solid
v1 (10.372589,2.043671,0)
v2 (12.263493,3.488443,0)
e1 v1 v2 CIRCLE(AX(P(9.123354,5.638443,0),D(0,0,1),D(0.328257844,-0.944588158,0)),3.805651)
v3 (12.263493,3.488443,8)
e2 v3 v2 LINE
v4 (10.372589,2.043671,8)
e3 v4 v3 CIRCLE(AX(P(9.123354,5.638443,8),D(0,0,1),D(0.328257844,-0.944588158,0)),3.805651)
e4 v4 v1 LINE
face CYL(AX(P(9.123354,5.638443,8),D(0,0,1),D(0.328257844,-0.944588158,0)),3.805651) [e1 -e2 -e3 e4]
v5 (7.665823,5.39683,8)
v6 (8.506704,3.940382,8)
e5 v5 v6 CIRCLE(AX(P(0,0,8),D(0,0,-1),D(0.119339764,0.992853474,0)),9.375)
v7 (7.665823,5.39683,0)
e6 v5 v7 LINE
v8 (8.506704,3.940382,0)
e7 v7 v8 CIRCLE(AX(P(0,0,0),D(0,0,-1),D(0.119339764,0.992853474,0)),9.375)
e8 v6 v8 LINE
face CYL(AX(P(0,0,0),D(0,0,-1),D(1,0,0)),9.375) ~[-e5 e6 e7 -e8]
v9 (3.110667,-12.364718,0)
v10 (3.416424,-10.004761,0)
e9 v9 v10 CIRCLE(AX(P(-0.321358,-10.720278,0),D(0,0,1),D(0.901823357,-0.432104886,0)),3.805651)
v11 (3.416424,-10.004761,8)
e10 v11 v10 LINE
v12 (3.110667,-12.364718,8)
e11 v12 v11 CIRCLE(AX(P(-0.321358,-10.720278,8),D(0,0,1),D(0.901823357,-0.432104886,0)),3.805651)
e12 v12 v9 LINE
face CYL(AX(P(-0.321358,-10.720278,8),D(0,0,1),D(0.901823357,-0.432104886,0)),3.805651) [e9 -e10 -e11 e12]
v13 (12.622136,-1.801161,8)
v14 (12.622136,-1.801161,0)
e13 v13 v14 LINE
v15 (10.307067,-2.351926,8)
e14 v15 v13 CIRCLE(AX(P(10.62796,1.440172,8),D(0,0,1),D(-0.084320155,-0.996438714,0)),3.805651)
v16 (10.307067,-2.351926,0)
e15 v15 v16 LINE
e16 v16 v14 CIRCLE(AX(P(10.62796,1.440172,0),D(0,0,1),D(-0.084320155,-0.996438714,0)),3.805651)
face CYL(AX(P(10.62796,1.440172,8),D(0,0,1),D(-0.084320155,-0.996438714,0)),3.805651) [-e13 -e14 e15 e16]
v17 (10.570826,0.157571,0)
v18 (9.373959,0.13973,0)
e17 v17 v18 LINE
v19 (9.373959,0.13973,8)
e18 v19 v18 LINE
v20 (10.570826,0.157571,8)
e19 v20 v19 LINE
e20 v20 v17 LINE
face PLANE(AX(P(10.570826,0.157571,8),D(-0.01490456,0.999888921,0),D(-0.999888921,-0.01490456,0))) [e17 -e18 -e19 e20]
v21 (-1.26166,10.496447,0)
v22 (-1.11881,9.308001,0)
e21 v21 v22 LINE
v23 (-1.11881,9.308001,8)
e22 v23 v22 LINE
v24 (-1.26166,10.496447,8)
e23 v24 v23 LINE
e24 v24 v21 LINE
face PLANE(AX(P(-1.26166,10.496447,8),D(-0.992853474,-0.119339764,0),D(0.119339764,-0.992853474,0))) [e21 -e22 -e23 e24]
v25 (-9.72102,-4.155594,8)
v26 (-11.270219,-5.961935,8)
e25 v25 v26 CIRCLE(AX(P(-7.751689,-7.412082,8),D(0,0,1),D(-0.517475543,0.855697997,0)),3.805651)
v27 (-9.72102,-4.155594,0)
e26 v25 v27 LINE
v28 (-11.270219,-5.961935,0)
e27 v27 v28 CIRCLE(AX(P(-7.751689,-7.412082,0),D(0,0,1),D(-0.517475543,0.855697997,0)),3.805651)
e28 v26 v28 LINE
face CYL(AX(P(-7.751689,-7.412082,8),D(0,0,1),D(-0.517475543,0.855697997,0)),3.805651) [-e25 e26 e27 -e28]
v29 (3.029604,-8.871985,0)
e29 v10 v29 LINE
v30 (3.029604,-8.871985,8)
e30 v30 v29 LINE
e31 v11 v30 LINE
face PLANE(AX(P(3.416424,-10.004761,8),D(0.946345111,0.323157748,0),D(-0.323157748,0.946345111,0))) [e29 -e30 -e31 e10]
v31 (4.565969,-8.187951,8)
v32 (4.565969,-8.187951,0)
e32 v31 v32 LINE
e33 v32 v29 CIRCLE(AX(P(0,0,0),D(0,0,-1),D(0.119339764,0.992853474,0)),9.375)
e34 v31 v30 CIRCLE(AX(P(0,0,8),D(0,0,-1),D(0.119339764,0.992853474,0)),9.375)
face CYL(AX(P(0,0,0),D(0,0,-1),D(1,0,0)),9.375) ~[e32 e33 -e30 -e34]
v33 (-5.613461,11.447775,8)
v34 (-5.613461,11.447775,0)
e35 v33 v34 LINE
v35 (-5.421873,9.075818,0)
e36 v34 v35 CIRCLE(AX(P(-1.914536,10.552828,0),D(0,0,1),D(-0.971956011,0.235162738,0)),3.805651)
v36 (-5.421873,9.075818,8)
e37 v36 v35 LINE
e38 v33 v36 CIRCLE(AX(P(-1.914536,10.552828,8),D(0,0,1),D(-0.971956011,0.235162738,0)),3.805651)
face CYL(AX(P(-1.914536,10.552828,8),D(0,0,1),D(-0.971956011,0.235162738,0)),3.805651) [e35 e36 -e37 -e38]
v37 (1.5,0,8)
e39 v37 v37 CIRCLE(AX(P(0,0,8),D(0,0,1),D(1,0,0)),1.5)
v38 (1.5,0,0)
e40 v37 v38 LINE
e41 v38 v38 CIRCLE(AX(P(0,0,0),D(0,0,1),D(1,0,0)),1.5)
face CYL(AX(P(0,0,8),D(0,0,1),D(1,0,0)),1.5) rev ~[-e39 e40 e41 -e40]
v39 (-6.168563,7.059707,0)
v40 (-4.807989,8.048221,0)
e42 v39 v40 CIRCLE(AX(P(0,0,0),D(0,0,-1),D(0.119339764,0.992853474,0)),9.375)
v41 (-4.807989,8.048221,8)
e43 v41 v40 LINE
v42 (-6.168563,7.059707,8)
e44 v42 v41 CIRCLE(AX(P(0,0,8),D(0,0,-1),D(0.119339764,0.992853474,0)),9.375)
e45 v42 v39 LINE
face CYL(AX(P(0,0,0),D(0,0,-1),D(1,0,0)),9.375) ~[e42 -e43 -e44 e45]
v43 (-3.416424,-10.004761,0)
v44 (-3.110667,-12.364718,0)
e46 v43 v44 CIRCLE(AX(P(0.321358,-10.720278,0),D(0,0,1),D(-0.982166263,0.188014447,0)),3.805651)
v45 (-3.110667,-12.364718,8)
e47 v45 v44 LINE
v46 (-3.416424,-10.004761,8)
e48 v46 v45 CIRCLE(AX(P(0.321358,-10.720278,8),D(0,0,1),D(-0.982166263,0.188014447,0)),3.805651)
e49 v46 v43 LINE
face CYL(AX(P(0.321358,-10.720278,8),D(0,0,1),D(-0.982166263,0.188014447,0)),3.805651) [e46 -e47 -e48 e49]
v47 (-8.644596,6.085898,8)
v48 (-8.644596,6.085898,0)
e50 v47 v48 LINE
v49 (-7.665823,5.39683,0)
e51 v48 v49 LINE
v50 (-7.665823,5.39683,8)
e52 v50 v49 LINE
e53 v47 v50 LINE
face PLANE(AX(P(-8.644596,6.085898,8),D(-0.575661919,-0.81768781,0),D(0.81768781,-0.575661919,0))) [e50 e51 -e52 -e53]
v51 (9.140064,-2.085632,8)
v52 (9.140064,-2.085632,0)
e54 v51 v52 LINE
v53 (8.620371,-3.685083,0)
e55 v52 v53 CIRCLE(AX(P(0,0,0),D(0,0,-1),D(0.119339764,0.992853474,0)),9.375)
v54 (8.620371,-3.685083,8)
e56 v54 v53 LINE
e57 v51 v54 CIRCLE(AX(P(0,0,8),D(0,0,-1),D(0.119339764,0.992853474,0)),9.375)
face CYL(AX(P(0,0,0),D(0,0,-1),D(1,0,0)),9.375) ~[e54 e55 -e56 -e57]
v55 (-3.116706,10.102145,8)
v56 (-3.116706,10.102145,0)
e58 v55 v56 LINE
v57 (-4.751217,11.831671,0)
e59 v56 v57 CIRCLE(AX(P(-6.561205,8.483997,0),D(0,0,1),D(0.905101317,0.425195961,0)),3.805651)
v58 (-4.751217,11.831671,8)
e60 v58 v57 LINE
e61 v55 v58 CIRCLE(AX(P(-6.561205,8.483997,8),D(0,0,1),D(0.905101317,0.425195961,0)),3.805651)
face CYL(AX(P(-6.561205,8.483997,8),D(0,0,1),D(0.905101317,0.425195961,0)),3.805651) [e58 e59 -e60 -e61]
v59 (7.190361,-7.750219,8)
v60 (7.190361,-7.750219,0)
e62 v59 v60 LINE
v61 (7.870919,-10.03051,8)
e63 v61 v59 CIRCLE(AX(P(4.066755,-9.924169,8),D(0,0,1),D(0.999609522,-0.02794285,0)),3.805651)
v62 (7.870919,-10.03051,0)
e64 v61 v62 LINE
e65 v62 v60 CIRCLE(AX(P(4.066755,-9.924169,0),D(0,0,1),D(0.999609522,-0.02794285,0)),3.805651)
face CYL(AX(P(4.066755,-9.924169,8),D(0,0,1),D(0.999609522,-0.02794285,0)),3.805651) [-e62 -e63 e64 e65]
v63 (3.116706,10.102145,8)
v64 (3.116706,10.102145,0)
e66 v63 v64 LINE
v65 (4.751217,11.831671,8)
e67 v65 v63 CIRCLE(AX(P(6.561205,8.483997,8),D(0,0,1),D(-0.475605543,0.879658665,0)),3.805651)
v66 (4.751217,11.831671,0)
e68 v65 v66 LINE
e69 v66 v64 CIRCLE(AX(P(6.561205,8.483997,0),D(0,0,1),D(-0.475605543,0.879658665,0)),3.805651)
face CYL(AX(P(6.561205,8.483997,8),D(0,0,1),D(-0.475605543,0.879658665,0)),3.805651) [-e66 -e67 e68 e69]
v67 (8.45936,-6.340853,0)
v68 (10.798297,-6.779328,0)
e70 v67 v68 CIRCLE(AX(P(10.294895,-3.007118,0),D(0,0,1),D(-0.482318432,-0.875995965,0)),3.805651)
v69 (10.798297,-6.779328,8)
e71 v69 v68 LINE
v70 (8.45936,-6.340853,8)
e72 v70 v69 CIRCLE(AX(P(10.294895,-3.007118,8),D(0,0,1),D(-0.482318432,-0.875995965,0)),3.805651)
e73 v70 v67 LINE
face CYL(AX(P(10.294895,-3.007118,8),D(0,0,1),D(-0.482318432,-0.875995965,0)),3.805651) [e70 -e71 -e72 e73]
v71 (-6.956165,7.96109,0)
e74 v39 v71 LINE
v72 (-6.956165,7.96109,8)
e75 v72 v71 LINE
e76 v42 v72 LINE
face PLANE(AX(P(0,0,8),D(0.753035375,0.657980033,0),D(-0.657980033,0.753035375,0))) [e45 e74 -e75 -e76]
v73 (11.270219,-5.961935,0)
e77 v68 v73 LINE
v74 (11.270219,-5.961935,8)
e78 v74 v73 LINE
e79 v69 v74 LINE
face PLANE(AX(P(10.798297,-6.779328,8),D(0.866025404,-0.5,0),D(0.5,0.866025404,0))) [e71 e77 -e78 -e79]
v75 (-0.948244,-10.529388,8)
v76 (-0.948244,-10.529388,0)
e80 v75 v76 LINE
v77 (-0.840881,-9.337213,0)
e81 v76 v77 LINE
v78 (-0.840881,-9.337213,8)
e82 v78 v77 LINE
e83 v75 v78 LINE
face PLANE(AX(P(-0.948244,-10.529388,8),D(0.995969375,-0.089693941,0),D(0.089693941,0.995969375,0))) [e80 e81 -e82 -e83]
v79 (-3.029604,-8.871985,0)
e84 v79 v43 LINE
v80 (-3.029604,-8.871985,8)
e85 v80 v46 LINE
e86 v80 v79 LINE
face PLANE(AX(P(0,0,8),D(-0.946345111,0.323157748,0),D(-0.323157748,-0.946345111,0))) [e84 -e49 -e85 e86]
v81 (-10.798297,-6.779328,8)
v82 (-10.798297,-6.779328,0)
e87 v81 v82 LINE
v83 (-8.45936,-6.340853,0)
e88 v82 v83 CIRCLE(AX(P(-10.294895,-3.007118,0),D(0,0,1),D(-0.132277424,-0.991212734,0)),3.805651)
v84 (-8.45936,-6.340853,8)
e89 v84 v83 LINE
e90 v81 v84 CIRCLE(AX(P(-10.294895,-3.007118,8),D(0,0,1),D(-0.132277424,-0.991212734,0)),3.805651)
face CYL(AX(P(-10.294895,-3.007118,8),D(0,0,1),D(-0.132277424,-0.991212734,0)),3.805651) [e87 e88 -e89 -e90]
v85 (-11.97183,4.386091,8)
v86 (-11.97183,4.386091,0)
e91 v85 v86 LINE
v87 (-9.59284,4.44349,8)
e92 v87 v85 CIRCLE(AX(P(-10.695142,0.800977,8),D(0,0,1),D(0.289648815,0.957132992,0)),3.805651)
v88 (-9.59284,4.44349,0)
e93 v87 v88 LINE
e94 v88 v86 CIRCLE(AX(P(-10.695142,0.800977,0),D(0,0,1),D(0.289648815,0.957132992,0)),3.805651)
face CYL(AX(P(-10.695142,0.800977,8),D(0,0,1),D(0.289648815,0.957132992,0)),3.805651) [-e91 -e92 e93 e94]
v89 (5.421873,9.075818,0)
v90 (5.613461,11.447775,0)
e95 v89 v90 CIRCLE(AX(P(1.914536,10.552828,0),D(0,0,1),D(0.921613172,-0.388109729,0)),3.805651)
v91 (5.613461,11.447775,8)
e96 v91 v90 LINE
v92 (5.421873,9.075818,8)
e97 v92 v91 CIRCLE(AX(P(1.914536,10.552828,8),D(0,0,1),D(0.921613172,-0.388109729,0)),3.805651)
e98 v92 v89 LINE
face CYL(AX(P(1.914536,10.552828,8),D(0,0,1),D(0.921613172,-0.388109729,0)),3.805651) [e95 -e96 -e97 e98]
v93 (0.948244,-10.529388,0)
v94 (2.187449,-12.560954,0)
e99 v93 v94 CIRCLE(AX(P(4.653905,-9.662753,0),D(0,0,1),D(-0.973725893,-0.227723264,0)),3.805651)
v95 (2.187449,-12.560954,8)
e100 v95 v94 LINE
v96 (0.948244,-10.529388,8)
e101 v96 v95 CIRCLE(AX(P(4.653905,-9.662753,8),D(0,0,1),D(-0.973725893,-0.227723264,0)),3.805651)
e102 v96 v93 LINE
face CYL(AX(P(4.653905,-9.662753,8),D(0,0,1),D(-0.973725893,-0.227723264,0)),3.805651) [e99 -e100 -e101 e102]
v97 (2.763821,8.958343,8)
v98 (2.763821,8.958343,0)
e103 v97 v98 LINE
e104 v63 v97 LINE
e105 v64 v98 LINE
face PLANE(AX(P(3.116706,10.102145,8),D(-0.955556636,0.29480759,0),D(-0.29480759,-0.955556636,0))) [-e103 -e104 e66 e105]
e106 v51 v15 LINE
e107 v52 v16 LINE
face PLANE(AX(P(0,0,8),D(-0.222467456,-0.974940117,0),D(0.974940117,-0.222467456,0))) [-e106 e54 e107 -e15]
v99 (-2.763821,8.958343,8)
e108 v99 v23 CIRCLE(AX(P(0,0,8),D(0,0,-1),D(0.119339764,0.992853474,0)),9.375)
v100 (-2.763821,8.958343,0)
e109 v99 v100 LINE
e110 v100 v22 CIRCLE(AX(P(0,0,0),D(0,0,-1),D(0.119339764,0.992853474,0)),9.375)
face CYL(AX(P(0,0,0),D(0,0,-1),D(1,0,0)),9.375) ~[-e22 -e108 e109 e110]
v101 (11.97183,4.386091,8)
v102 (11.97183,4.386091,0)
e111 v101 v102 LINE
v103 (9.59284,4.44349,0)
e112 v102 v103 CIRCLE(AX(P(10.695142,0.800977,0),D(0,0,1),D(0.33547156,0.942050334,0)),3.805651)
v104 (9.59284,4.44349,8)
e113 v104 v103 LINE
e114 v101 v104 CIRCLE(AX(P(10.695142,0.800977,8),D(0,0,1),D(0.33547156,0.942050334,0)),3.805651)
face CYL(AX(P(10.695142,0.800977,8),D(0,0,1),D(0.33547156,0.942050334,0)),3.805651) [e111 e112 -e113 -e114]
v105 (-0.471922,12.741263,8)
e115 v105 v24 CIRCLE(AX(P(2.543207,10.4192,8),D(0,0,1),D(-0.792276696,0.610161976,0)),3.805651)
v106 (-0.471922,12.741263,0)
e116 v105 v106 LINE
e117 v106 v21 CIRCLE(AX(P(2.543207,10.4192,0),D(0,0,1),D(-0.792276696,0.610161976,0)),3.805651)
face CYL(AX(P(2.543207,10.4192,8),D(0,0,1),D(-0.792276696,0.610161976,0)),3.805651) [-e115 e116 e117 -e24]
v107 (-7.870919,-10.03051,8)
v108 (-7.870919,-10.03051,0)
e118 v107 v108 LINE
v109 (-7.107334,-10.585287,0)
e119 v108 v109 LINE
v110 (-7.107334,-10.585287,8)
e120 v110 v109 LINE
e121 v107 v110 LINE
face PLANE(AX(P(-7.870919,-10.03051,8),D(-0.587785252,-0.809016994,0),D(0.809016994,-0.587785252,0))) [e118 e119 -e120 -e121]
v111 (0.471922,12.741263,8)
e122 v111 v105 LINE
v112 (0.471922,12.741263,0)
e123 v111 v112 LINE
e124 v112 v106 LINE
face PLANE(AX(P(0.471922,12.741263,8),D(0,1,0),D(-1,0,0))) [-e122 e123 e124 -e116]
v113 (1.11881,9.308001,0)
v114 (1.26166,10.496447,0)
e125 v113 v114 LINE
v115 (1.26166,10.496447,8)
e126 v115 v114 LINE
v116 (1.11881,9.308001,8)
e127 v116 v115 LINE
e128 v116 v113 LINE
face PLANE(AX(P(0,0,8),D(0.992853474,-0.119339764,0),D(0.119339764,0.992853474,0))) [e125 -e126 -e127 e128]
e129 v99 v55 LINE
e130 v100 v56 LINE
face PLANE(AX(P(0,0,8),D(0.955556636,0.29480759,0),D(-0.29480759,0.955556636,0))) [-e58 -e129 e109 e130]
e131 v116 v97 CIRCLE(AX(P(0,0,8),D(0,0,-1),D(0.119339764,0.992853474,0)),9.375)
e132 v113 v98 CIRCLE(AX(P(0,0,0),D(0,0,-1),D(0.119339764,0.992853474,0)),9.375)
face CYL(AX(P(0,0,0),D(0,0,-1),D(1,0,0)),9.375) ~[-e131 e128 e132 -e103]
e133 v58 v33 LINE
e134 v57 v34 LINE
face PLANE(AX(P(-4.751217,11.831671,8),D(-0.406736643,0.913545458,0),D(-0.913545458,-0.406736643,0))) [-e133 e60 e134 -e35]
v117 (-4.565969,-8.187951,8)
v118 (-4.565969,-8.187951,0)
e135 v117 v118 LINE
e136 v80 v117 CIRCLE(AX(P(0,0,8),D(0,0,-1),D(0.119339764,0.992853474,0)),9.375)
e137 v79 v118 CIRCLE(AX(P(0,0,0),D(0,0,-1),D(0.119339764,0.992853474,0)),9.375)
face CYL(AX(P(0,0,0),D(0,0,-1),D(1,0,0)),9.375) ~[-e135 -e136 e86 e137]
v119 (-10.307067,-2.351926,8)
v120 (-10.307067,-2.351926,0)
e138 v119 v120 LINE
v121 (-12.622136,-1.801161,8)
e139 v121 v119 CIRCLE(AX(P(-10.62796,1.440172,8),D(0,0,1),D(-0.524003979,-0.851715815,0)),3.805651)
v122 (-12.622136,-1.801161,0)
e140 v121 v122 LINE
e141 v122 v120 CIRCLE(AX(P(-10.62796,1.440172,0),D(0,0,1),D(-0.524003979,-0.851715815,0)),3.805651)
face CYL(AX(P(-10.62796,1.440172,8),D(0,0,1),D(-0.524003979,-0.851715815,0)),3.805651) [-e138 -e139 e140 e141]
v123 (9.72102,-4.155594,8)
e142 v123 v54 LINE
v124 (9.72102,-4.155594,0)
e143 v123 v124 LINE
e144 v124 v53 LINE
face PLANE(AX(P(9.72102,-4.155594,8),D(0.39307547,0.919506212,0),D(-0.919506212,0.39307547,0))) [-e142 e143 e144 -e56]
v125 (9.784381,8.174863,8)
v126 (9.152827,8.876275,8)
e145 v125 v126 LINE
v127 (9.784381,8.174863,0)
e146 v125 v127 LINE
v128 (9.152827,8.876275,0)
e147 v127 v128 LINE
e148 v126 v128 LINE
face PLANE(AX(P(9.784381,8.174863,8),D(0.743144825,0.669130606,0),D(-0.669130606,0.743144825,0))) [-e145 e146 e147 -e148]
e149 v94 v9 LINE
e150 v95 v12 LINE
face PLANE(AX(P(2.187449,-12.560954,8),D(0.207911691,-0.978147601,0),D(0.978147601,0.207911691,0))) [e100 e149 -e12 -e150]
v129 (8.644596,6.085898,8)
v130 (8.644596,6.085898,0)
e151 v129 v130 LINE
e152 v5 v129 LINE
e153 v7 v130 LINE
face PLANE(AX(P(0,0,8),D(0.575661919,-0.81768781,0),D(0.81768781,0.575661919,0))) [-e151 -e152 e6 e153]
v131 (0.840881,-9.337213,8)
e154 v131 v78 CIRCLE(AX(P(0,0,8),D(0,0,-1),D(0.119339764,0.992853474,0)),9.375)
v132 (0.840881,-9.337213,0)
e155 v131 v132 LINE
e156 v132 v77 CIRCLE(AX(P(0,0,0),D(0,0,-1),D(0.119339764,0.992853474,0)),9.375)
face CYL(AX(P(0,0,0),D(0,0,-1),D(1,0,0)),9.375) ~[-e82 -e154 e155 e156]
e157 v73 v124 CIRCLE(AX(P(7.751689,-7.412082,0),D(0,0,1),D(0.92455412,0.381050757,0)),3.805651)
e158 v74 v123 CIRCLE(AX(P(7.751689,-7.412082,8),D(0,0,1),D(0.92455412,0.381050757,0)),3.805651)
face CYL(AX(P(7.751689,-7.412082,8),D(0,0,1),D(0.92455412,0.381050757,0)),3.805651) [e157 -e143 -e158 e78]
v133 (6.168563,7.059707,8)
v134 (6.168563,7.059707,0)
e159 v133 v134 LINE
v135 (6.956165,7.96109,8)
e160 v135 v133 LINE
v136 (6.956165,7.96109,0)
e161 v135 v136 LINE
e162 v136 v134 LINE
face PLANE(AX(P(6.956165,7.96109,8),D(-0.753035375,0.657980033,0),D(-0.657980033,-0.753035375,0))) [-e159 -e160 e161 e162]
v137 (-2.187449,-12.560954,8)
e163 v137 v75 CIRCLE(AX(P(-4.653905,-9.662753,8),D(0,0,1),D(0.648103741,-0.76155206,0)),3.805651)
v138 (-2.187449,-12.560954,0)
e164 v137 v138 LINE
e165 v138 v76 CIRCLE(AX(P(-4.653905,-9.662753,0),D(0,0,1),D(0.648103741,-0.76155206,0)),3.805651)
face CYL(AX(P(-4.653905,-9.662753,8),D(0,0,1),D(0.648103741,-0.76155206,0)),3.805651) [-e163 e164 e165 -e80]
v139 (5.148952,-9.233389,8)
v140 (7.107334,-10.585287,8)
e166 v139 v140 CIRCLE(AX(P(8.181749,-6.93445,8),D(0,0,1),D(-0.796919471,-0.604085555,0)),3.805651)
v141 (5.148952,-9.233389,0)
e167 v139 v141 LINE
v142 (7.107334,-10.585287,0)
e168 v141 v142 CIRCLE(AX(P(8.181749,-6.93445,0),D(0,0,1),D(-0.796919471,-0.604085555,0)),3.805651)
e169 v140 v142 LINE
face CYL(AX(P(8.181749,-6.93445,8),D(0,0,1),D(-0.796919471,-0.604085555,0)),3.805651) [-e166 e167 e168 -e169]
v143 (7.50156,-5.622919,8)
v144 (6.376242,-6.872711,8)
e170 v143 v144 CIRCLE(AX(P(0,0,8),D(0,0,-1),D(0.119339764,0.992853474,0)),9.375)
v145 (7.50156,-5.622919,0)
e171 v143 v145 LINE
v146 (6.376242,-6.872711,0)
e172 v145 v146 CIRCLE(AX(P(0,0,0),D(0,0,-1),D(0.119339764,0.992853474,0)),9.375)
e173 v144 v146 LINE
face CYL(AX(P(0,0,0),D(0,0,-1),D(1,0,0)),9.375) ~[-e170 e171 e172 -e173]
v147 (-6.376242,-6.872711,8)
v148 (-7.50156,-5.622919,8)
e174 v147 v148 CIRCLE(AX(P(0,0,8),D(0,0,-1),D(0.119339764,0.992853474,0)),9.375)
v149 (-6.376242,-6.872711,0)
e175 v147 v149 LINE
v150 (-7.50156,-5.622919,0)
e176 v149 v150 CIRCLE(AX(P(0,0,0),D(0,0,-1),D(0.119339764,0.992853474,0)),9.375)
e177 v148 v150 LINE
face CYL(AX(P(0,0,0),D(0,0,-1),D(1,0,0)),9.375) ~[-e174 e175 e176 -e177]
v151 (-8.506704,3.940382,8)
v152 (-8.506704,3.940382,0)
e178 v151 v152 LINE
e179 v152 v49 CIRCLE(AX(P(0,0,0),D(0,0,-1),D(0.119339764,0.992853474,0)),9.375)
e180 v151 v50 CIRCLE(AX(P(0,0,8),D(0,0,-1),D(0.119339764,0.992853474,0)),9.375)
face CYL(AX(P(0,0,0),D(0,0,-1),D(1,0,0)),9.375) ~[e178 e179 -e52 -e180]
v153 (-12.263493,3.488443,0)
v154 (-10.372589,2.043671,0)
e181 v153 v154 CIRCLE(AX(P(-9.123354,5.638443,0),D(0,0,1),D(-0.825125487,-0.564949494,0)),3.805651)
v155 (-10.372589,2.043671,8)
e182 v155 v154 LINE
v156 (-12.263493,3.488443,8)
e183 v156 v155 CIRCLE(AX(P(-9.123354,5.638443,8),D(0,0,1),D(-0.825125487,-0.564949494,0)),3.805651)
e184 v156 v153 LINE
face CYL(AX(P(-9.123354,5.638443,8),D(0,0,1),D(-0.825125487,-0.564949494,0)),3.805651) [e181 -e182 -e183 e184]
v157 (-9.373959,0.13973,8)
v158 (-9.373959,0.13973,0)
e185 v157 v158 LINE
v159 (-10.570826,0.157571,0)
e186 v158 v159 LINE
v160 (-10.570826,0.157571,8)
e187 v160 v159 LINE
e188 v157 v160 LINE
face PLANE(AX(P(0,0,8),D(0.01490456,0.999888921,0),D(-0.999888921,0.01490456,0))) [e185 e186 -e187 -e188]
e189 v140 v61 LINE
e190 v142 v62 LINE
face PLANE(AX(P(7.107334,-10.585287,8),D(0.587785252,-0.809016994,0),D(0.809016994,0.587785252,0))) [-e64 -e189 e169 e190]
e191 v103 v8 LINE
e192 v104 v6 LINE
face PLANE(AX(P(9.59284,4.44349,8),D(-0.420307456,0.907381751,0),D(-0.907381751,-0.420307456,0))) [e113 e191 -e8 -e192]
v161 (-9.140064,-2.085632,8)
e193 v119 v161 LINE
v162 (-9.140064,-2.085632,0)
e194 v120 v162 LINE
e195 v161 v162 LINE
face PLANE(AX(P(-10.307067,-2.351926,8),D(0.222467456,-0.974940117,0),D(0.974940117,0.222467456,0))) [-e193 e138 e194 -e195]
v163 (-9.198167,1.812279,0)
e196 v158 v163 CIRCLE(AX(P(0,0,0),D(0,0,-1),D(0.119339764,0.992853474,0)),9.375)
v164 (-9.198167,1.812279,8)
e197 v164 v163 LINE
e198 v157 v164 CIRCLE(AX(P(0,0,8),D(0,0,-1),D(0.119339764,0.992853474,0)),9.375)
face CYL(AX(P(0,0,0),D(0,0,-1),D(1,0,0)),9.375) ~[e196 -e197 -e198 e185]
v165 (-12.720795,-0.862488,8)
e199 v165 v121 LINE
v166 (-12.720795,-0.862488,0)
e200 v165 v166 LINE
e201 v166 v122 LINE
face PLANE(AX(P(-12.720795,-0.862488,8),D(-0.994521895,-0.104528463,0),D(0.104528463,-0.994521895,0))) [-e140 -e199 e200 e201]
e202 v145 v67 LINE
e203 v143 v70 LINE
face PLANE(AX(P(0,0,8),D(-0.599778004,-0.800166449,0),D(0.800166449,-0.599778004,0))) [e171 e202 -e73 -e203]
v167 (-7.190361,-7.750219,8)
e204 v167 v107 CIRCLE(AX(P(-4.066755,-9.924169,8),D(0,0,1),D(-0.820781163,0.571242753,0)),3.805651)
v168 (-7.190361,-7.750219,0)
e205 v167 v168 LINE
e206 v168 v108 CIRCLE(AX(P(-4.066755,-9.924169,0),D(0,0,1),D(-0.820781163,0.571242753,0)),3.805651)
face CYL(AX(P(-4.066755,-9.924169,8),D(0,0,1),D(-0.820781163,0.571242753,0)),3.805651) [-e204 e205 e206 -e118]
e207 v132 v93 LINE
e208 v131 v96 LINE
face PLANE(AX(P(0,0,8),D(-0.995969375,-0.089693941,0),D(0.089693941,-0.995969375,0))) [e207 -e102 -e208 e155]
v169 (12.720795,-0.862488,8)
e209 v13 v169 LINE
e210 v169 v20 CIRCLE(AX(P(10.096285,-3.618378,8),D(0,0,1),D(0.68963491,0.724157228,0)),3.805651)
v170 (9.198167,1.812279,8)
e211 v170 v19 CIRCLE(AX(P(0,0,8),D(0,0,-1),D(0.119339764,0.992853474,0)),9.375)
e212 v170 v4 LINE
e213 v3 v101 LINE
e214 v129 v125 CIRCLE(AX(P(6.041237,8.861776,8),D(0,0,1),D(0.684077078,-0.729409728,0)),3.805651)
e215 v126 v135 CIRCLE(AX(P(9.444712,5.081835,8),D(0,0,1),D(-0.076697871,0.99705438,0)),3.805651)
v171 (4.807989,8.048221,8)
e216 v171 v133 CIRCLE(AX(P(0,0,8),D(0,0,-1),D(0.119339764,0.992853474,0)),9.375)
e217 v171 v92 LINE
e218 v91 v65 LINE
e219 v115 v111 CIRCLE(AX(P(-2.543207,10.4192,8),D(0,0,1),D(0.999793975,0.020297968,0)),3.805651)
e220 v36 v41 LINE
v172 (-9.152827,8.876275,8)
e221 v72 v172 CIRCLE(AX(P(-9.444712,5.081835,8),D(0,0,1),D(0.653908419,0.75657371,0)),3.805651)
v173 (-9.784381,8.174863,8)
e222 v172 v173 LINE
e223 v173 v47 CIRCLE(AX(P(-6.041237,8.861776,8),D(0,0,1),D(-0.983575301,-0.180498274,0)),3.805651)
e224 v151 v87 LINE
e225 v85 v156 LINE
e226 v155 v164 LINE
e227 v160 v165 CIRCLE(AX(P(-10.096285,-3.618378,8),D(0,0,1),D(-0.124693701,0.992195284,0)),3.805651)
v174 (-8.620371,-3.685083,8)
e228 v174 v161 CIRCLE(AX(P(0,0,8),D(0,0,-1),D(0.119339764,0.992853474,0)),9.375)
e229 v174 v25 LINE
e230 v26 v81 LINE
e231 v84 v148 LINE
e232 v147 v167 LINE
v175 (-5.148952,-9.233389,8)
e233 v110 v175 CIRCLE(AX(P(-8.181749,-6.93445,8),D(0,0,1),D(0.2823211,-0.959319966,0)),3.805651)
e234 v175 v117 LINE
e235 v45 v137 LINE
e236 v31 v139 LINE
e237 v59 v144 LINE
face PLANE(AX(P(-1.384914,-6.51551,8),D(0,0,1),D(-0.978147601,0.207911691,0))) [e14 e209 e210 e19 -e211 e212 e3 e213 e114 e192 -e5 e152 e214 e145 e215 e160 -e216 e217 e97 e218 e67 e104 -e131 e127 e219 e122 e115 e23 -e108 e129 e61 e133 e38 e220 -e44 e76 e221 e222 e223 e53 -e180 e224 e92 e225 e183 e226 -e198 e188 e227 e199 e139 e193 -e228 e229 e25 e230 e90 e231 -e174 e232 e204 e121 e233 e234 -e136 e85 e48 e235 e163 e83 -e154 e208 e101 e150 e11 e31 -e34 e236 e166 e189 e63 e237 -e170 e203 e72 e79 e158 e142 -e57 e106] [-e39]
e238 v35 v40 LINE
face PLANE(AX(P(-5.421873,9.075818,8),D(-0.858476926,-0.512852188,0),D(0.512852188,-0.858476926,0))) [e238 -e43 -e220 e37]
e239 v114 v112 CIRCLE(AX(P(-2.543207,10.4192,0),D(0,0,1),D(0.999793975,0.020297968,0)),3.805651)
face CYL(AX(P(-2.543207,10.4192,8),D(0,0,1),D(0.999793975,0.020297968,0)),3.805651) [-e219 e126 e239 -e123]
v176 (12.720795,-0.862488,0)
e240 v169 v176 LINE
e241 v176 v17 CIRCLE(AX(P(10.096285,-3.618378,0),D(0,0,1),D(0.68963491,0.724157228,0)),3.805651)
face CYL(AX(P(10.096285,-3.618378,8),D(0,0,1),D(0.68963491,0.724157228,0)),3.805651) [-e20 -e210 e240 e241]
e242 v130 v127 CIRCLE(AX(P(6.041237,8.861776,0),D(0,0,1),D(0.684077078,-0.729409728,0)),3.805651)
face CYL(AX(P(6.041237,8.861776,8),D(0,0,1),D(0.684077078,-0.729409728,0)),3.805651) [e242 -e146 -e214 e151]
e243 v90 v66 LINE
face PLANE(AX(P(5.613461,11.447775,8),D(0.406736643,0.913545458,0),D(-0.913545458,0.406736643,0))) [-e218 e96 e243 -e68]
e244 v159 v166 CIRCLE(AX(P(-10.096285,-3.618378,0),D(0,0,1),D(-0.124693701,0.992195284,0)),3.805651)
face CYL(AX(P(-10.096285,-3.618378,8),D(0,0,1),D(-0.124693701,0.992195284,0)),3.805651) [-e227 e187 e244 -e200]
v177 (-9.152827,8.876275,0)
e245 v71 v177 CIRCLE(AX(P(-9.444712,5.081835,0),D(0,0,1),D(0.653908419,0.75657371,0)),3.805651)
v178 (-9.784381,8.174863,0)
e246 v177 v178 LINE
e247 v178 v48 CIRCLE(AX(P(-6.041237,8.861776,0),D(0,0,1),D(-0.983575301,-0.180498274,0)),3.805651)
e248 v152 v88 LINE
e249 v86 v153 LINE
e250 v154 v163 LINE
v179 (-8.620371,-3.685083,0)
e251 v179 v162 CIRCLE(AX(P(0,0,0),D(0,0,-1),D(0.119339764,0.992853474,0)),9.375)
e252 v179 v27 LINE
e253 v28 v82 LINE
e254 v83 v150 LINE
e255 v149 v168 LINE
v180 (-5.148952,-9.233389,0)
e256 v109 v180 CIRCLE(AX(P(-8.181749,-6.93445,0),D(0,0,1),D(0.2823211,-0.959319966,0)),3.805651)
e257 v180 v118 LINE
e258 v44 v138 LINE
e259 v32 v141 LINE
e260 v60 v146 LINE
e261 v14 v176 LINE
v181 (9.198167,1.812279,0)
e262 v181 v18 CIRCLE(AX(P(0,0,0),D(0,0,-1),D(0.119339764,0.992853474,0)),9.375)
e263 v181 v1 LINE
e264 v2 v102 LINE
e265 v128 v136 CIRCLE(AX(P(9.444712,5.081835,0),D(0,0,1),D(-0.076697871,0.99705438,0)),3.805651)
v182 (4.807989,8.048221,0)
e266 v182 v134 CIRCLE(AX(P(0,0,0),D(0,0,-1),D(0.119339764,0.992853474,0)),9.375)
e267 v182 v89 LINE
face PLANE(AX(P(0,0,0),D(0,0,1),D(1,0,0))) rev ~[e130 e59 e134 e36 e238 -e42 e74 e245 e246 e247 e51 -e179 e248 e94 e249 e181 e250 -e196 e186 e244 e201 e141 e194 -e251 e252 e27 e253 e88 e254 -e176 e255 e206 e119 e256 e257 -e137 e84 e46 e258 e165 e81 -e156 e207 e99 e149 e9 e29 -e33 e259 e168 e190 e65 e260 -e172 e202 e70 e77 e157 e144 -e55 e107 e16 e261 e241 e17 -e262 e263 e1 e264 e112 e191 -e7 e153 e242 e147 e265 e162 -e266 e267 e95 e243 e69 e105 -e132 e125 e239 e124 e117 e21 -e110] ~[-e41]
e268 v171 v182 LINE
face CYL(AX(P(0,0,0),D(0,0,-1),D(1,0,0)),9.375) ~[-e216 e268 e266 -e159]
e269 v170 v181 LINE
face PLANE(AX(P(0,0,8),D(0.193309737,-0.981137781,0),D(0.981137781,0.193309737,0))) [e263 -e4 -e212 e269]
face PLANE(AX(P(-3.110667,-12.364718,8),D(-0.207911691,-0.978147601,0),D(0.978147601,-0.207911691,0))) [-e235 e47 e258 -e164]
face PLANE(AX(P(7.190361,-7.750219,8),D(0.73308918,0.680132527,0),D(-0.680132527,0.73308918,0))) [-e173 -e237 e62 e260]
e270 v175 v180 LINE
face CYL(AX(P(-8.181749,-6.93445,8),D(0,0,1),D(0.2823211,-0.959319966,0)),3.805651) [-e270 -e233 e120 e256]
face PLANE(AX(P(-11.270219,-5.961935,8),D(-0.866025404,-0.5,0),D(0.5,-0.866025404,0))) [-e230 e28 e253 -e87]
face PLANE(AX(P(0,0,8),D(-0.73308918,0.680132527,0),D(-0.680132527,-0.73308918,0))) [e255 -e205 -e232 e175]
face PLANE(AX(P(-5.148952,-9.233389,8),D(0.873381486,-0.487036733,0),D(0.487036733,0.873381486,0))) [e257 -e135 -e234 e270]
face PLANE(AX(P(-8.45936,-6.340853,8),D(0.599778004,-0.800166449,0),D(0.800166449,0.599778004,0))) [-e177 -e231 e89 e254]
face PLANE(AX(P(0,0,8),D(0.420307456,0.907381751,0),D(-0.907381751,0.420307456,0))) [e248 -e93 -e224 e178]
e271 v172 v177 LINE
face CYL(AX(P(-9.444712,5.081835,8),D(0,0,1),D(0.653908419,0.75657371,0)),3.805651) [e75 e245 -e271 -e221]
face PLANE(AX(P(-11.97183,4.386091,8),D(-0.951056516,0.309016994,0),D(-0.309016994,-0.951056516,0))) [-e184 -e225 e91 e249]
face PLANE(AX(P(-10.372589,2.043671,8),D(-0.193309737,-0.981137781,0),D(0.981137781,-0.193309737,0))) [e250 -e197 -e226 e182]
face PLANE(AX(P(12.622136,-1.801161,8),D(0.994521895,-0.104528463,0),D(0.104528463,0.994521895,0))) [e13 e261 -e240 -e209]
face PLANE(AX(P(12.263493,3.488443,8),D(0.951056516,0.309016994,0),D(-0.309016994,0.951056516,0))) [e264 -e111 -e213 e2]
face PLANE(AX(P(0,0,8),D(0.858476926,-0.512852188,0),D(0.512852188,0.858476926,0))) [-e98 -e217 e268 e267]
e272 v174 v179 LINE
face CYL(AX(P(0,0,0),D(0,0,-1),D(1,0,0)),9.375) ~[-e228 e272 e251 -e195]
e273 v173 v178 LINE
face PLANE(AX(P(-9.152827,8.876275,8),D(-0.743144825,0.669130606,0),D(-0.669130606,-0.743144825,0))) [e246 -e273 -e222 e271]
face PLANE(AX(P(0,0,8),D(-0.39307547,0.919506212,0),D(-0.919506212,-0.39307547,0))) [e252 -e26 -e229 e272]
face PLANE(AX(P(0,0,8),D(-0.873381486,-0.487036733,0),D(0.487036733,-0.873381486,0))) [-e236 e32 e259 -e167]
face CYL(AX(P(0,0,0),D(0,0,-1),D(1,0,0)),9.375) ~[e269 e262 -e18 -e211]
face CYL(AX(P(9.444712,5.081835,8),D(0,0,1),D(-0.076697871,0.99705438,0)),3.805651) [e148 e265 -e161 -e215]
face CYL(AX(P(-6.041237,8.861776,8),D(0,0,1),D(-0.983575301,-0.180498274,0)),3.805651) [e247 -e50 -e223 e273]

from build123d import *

# Parameters (mm, degrees)
SKETCH2_R           = 9.375
BOSS_EXTRUDE1_DEPTH = 8
BOSS_EXTRUDE2_DEPTH = 8
CIRPATTERN1_COUNT   = 15
SKETCH4_R           = 1.5
CUT_EXTRUDE1_DEPTH  = 8


with BuildPart() as part:
    # Sketch2 → Boss-Extrude1 (new body)
    with BuildSketch(Plane.XY):
        Circle(SKETCH2_R)
    extrude(amount=BOSS_EXTRUDE1_DEPTH)

    # Sketch3 → Boss-Extrude2 (add)
    with BuildSketch(Plane.XY.offset(8)):
        with BuildLine():
            Line((0, 0), (1.26165998, 10.496446927))
            ThreePointArc((1.26165998, 10.496446927), (1.046763133, 11.682170305), (0.471921711, 12.741263277))
            Line((0.471921711, 12.741263277), (-0.471921711, 12.741263277))
            ThreePointArc((-0.471921711, 12.741263277), (-1.046763133, 11.682170305), (-1.26165998, 10.496446927))
            Line((-1.26165998, 10.496446927), (0, 0))
        make_face()
    boss_extrude2 = extrude(amount=-BOSS_EXTRUDE2_DEPTH)

    # CirPattern1: Boss-Extrude2 ×15 about axis
    cirpattern1_axis = Axis((0, 0, 0), (0, 0, 1))
    for i in range(1, CIRPATTERN1_COUNT):
        add(boss_extrude2.rotate(cirpattern1_axis, i * 360 / CIRPATTERN1_COUNT))

    # Sketch4 → Cut-Extrude1 (cut)
    with BuildSketch(Plane.XY.offset(8)):
        Circle(SKETCH4_R)
    extrude(amount=-CUT_EXTRUDE1_DEPTH, mode=Mode.SUBTRACT)


solid = part.part
